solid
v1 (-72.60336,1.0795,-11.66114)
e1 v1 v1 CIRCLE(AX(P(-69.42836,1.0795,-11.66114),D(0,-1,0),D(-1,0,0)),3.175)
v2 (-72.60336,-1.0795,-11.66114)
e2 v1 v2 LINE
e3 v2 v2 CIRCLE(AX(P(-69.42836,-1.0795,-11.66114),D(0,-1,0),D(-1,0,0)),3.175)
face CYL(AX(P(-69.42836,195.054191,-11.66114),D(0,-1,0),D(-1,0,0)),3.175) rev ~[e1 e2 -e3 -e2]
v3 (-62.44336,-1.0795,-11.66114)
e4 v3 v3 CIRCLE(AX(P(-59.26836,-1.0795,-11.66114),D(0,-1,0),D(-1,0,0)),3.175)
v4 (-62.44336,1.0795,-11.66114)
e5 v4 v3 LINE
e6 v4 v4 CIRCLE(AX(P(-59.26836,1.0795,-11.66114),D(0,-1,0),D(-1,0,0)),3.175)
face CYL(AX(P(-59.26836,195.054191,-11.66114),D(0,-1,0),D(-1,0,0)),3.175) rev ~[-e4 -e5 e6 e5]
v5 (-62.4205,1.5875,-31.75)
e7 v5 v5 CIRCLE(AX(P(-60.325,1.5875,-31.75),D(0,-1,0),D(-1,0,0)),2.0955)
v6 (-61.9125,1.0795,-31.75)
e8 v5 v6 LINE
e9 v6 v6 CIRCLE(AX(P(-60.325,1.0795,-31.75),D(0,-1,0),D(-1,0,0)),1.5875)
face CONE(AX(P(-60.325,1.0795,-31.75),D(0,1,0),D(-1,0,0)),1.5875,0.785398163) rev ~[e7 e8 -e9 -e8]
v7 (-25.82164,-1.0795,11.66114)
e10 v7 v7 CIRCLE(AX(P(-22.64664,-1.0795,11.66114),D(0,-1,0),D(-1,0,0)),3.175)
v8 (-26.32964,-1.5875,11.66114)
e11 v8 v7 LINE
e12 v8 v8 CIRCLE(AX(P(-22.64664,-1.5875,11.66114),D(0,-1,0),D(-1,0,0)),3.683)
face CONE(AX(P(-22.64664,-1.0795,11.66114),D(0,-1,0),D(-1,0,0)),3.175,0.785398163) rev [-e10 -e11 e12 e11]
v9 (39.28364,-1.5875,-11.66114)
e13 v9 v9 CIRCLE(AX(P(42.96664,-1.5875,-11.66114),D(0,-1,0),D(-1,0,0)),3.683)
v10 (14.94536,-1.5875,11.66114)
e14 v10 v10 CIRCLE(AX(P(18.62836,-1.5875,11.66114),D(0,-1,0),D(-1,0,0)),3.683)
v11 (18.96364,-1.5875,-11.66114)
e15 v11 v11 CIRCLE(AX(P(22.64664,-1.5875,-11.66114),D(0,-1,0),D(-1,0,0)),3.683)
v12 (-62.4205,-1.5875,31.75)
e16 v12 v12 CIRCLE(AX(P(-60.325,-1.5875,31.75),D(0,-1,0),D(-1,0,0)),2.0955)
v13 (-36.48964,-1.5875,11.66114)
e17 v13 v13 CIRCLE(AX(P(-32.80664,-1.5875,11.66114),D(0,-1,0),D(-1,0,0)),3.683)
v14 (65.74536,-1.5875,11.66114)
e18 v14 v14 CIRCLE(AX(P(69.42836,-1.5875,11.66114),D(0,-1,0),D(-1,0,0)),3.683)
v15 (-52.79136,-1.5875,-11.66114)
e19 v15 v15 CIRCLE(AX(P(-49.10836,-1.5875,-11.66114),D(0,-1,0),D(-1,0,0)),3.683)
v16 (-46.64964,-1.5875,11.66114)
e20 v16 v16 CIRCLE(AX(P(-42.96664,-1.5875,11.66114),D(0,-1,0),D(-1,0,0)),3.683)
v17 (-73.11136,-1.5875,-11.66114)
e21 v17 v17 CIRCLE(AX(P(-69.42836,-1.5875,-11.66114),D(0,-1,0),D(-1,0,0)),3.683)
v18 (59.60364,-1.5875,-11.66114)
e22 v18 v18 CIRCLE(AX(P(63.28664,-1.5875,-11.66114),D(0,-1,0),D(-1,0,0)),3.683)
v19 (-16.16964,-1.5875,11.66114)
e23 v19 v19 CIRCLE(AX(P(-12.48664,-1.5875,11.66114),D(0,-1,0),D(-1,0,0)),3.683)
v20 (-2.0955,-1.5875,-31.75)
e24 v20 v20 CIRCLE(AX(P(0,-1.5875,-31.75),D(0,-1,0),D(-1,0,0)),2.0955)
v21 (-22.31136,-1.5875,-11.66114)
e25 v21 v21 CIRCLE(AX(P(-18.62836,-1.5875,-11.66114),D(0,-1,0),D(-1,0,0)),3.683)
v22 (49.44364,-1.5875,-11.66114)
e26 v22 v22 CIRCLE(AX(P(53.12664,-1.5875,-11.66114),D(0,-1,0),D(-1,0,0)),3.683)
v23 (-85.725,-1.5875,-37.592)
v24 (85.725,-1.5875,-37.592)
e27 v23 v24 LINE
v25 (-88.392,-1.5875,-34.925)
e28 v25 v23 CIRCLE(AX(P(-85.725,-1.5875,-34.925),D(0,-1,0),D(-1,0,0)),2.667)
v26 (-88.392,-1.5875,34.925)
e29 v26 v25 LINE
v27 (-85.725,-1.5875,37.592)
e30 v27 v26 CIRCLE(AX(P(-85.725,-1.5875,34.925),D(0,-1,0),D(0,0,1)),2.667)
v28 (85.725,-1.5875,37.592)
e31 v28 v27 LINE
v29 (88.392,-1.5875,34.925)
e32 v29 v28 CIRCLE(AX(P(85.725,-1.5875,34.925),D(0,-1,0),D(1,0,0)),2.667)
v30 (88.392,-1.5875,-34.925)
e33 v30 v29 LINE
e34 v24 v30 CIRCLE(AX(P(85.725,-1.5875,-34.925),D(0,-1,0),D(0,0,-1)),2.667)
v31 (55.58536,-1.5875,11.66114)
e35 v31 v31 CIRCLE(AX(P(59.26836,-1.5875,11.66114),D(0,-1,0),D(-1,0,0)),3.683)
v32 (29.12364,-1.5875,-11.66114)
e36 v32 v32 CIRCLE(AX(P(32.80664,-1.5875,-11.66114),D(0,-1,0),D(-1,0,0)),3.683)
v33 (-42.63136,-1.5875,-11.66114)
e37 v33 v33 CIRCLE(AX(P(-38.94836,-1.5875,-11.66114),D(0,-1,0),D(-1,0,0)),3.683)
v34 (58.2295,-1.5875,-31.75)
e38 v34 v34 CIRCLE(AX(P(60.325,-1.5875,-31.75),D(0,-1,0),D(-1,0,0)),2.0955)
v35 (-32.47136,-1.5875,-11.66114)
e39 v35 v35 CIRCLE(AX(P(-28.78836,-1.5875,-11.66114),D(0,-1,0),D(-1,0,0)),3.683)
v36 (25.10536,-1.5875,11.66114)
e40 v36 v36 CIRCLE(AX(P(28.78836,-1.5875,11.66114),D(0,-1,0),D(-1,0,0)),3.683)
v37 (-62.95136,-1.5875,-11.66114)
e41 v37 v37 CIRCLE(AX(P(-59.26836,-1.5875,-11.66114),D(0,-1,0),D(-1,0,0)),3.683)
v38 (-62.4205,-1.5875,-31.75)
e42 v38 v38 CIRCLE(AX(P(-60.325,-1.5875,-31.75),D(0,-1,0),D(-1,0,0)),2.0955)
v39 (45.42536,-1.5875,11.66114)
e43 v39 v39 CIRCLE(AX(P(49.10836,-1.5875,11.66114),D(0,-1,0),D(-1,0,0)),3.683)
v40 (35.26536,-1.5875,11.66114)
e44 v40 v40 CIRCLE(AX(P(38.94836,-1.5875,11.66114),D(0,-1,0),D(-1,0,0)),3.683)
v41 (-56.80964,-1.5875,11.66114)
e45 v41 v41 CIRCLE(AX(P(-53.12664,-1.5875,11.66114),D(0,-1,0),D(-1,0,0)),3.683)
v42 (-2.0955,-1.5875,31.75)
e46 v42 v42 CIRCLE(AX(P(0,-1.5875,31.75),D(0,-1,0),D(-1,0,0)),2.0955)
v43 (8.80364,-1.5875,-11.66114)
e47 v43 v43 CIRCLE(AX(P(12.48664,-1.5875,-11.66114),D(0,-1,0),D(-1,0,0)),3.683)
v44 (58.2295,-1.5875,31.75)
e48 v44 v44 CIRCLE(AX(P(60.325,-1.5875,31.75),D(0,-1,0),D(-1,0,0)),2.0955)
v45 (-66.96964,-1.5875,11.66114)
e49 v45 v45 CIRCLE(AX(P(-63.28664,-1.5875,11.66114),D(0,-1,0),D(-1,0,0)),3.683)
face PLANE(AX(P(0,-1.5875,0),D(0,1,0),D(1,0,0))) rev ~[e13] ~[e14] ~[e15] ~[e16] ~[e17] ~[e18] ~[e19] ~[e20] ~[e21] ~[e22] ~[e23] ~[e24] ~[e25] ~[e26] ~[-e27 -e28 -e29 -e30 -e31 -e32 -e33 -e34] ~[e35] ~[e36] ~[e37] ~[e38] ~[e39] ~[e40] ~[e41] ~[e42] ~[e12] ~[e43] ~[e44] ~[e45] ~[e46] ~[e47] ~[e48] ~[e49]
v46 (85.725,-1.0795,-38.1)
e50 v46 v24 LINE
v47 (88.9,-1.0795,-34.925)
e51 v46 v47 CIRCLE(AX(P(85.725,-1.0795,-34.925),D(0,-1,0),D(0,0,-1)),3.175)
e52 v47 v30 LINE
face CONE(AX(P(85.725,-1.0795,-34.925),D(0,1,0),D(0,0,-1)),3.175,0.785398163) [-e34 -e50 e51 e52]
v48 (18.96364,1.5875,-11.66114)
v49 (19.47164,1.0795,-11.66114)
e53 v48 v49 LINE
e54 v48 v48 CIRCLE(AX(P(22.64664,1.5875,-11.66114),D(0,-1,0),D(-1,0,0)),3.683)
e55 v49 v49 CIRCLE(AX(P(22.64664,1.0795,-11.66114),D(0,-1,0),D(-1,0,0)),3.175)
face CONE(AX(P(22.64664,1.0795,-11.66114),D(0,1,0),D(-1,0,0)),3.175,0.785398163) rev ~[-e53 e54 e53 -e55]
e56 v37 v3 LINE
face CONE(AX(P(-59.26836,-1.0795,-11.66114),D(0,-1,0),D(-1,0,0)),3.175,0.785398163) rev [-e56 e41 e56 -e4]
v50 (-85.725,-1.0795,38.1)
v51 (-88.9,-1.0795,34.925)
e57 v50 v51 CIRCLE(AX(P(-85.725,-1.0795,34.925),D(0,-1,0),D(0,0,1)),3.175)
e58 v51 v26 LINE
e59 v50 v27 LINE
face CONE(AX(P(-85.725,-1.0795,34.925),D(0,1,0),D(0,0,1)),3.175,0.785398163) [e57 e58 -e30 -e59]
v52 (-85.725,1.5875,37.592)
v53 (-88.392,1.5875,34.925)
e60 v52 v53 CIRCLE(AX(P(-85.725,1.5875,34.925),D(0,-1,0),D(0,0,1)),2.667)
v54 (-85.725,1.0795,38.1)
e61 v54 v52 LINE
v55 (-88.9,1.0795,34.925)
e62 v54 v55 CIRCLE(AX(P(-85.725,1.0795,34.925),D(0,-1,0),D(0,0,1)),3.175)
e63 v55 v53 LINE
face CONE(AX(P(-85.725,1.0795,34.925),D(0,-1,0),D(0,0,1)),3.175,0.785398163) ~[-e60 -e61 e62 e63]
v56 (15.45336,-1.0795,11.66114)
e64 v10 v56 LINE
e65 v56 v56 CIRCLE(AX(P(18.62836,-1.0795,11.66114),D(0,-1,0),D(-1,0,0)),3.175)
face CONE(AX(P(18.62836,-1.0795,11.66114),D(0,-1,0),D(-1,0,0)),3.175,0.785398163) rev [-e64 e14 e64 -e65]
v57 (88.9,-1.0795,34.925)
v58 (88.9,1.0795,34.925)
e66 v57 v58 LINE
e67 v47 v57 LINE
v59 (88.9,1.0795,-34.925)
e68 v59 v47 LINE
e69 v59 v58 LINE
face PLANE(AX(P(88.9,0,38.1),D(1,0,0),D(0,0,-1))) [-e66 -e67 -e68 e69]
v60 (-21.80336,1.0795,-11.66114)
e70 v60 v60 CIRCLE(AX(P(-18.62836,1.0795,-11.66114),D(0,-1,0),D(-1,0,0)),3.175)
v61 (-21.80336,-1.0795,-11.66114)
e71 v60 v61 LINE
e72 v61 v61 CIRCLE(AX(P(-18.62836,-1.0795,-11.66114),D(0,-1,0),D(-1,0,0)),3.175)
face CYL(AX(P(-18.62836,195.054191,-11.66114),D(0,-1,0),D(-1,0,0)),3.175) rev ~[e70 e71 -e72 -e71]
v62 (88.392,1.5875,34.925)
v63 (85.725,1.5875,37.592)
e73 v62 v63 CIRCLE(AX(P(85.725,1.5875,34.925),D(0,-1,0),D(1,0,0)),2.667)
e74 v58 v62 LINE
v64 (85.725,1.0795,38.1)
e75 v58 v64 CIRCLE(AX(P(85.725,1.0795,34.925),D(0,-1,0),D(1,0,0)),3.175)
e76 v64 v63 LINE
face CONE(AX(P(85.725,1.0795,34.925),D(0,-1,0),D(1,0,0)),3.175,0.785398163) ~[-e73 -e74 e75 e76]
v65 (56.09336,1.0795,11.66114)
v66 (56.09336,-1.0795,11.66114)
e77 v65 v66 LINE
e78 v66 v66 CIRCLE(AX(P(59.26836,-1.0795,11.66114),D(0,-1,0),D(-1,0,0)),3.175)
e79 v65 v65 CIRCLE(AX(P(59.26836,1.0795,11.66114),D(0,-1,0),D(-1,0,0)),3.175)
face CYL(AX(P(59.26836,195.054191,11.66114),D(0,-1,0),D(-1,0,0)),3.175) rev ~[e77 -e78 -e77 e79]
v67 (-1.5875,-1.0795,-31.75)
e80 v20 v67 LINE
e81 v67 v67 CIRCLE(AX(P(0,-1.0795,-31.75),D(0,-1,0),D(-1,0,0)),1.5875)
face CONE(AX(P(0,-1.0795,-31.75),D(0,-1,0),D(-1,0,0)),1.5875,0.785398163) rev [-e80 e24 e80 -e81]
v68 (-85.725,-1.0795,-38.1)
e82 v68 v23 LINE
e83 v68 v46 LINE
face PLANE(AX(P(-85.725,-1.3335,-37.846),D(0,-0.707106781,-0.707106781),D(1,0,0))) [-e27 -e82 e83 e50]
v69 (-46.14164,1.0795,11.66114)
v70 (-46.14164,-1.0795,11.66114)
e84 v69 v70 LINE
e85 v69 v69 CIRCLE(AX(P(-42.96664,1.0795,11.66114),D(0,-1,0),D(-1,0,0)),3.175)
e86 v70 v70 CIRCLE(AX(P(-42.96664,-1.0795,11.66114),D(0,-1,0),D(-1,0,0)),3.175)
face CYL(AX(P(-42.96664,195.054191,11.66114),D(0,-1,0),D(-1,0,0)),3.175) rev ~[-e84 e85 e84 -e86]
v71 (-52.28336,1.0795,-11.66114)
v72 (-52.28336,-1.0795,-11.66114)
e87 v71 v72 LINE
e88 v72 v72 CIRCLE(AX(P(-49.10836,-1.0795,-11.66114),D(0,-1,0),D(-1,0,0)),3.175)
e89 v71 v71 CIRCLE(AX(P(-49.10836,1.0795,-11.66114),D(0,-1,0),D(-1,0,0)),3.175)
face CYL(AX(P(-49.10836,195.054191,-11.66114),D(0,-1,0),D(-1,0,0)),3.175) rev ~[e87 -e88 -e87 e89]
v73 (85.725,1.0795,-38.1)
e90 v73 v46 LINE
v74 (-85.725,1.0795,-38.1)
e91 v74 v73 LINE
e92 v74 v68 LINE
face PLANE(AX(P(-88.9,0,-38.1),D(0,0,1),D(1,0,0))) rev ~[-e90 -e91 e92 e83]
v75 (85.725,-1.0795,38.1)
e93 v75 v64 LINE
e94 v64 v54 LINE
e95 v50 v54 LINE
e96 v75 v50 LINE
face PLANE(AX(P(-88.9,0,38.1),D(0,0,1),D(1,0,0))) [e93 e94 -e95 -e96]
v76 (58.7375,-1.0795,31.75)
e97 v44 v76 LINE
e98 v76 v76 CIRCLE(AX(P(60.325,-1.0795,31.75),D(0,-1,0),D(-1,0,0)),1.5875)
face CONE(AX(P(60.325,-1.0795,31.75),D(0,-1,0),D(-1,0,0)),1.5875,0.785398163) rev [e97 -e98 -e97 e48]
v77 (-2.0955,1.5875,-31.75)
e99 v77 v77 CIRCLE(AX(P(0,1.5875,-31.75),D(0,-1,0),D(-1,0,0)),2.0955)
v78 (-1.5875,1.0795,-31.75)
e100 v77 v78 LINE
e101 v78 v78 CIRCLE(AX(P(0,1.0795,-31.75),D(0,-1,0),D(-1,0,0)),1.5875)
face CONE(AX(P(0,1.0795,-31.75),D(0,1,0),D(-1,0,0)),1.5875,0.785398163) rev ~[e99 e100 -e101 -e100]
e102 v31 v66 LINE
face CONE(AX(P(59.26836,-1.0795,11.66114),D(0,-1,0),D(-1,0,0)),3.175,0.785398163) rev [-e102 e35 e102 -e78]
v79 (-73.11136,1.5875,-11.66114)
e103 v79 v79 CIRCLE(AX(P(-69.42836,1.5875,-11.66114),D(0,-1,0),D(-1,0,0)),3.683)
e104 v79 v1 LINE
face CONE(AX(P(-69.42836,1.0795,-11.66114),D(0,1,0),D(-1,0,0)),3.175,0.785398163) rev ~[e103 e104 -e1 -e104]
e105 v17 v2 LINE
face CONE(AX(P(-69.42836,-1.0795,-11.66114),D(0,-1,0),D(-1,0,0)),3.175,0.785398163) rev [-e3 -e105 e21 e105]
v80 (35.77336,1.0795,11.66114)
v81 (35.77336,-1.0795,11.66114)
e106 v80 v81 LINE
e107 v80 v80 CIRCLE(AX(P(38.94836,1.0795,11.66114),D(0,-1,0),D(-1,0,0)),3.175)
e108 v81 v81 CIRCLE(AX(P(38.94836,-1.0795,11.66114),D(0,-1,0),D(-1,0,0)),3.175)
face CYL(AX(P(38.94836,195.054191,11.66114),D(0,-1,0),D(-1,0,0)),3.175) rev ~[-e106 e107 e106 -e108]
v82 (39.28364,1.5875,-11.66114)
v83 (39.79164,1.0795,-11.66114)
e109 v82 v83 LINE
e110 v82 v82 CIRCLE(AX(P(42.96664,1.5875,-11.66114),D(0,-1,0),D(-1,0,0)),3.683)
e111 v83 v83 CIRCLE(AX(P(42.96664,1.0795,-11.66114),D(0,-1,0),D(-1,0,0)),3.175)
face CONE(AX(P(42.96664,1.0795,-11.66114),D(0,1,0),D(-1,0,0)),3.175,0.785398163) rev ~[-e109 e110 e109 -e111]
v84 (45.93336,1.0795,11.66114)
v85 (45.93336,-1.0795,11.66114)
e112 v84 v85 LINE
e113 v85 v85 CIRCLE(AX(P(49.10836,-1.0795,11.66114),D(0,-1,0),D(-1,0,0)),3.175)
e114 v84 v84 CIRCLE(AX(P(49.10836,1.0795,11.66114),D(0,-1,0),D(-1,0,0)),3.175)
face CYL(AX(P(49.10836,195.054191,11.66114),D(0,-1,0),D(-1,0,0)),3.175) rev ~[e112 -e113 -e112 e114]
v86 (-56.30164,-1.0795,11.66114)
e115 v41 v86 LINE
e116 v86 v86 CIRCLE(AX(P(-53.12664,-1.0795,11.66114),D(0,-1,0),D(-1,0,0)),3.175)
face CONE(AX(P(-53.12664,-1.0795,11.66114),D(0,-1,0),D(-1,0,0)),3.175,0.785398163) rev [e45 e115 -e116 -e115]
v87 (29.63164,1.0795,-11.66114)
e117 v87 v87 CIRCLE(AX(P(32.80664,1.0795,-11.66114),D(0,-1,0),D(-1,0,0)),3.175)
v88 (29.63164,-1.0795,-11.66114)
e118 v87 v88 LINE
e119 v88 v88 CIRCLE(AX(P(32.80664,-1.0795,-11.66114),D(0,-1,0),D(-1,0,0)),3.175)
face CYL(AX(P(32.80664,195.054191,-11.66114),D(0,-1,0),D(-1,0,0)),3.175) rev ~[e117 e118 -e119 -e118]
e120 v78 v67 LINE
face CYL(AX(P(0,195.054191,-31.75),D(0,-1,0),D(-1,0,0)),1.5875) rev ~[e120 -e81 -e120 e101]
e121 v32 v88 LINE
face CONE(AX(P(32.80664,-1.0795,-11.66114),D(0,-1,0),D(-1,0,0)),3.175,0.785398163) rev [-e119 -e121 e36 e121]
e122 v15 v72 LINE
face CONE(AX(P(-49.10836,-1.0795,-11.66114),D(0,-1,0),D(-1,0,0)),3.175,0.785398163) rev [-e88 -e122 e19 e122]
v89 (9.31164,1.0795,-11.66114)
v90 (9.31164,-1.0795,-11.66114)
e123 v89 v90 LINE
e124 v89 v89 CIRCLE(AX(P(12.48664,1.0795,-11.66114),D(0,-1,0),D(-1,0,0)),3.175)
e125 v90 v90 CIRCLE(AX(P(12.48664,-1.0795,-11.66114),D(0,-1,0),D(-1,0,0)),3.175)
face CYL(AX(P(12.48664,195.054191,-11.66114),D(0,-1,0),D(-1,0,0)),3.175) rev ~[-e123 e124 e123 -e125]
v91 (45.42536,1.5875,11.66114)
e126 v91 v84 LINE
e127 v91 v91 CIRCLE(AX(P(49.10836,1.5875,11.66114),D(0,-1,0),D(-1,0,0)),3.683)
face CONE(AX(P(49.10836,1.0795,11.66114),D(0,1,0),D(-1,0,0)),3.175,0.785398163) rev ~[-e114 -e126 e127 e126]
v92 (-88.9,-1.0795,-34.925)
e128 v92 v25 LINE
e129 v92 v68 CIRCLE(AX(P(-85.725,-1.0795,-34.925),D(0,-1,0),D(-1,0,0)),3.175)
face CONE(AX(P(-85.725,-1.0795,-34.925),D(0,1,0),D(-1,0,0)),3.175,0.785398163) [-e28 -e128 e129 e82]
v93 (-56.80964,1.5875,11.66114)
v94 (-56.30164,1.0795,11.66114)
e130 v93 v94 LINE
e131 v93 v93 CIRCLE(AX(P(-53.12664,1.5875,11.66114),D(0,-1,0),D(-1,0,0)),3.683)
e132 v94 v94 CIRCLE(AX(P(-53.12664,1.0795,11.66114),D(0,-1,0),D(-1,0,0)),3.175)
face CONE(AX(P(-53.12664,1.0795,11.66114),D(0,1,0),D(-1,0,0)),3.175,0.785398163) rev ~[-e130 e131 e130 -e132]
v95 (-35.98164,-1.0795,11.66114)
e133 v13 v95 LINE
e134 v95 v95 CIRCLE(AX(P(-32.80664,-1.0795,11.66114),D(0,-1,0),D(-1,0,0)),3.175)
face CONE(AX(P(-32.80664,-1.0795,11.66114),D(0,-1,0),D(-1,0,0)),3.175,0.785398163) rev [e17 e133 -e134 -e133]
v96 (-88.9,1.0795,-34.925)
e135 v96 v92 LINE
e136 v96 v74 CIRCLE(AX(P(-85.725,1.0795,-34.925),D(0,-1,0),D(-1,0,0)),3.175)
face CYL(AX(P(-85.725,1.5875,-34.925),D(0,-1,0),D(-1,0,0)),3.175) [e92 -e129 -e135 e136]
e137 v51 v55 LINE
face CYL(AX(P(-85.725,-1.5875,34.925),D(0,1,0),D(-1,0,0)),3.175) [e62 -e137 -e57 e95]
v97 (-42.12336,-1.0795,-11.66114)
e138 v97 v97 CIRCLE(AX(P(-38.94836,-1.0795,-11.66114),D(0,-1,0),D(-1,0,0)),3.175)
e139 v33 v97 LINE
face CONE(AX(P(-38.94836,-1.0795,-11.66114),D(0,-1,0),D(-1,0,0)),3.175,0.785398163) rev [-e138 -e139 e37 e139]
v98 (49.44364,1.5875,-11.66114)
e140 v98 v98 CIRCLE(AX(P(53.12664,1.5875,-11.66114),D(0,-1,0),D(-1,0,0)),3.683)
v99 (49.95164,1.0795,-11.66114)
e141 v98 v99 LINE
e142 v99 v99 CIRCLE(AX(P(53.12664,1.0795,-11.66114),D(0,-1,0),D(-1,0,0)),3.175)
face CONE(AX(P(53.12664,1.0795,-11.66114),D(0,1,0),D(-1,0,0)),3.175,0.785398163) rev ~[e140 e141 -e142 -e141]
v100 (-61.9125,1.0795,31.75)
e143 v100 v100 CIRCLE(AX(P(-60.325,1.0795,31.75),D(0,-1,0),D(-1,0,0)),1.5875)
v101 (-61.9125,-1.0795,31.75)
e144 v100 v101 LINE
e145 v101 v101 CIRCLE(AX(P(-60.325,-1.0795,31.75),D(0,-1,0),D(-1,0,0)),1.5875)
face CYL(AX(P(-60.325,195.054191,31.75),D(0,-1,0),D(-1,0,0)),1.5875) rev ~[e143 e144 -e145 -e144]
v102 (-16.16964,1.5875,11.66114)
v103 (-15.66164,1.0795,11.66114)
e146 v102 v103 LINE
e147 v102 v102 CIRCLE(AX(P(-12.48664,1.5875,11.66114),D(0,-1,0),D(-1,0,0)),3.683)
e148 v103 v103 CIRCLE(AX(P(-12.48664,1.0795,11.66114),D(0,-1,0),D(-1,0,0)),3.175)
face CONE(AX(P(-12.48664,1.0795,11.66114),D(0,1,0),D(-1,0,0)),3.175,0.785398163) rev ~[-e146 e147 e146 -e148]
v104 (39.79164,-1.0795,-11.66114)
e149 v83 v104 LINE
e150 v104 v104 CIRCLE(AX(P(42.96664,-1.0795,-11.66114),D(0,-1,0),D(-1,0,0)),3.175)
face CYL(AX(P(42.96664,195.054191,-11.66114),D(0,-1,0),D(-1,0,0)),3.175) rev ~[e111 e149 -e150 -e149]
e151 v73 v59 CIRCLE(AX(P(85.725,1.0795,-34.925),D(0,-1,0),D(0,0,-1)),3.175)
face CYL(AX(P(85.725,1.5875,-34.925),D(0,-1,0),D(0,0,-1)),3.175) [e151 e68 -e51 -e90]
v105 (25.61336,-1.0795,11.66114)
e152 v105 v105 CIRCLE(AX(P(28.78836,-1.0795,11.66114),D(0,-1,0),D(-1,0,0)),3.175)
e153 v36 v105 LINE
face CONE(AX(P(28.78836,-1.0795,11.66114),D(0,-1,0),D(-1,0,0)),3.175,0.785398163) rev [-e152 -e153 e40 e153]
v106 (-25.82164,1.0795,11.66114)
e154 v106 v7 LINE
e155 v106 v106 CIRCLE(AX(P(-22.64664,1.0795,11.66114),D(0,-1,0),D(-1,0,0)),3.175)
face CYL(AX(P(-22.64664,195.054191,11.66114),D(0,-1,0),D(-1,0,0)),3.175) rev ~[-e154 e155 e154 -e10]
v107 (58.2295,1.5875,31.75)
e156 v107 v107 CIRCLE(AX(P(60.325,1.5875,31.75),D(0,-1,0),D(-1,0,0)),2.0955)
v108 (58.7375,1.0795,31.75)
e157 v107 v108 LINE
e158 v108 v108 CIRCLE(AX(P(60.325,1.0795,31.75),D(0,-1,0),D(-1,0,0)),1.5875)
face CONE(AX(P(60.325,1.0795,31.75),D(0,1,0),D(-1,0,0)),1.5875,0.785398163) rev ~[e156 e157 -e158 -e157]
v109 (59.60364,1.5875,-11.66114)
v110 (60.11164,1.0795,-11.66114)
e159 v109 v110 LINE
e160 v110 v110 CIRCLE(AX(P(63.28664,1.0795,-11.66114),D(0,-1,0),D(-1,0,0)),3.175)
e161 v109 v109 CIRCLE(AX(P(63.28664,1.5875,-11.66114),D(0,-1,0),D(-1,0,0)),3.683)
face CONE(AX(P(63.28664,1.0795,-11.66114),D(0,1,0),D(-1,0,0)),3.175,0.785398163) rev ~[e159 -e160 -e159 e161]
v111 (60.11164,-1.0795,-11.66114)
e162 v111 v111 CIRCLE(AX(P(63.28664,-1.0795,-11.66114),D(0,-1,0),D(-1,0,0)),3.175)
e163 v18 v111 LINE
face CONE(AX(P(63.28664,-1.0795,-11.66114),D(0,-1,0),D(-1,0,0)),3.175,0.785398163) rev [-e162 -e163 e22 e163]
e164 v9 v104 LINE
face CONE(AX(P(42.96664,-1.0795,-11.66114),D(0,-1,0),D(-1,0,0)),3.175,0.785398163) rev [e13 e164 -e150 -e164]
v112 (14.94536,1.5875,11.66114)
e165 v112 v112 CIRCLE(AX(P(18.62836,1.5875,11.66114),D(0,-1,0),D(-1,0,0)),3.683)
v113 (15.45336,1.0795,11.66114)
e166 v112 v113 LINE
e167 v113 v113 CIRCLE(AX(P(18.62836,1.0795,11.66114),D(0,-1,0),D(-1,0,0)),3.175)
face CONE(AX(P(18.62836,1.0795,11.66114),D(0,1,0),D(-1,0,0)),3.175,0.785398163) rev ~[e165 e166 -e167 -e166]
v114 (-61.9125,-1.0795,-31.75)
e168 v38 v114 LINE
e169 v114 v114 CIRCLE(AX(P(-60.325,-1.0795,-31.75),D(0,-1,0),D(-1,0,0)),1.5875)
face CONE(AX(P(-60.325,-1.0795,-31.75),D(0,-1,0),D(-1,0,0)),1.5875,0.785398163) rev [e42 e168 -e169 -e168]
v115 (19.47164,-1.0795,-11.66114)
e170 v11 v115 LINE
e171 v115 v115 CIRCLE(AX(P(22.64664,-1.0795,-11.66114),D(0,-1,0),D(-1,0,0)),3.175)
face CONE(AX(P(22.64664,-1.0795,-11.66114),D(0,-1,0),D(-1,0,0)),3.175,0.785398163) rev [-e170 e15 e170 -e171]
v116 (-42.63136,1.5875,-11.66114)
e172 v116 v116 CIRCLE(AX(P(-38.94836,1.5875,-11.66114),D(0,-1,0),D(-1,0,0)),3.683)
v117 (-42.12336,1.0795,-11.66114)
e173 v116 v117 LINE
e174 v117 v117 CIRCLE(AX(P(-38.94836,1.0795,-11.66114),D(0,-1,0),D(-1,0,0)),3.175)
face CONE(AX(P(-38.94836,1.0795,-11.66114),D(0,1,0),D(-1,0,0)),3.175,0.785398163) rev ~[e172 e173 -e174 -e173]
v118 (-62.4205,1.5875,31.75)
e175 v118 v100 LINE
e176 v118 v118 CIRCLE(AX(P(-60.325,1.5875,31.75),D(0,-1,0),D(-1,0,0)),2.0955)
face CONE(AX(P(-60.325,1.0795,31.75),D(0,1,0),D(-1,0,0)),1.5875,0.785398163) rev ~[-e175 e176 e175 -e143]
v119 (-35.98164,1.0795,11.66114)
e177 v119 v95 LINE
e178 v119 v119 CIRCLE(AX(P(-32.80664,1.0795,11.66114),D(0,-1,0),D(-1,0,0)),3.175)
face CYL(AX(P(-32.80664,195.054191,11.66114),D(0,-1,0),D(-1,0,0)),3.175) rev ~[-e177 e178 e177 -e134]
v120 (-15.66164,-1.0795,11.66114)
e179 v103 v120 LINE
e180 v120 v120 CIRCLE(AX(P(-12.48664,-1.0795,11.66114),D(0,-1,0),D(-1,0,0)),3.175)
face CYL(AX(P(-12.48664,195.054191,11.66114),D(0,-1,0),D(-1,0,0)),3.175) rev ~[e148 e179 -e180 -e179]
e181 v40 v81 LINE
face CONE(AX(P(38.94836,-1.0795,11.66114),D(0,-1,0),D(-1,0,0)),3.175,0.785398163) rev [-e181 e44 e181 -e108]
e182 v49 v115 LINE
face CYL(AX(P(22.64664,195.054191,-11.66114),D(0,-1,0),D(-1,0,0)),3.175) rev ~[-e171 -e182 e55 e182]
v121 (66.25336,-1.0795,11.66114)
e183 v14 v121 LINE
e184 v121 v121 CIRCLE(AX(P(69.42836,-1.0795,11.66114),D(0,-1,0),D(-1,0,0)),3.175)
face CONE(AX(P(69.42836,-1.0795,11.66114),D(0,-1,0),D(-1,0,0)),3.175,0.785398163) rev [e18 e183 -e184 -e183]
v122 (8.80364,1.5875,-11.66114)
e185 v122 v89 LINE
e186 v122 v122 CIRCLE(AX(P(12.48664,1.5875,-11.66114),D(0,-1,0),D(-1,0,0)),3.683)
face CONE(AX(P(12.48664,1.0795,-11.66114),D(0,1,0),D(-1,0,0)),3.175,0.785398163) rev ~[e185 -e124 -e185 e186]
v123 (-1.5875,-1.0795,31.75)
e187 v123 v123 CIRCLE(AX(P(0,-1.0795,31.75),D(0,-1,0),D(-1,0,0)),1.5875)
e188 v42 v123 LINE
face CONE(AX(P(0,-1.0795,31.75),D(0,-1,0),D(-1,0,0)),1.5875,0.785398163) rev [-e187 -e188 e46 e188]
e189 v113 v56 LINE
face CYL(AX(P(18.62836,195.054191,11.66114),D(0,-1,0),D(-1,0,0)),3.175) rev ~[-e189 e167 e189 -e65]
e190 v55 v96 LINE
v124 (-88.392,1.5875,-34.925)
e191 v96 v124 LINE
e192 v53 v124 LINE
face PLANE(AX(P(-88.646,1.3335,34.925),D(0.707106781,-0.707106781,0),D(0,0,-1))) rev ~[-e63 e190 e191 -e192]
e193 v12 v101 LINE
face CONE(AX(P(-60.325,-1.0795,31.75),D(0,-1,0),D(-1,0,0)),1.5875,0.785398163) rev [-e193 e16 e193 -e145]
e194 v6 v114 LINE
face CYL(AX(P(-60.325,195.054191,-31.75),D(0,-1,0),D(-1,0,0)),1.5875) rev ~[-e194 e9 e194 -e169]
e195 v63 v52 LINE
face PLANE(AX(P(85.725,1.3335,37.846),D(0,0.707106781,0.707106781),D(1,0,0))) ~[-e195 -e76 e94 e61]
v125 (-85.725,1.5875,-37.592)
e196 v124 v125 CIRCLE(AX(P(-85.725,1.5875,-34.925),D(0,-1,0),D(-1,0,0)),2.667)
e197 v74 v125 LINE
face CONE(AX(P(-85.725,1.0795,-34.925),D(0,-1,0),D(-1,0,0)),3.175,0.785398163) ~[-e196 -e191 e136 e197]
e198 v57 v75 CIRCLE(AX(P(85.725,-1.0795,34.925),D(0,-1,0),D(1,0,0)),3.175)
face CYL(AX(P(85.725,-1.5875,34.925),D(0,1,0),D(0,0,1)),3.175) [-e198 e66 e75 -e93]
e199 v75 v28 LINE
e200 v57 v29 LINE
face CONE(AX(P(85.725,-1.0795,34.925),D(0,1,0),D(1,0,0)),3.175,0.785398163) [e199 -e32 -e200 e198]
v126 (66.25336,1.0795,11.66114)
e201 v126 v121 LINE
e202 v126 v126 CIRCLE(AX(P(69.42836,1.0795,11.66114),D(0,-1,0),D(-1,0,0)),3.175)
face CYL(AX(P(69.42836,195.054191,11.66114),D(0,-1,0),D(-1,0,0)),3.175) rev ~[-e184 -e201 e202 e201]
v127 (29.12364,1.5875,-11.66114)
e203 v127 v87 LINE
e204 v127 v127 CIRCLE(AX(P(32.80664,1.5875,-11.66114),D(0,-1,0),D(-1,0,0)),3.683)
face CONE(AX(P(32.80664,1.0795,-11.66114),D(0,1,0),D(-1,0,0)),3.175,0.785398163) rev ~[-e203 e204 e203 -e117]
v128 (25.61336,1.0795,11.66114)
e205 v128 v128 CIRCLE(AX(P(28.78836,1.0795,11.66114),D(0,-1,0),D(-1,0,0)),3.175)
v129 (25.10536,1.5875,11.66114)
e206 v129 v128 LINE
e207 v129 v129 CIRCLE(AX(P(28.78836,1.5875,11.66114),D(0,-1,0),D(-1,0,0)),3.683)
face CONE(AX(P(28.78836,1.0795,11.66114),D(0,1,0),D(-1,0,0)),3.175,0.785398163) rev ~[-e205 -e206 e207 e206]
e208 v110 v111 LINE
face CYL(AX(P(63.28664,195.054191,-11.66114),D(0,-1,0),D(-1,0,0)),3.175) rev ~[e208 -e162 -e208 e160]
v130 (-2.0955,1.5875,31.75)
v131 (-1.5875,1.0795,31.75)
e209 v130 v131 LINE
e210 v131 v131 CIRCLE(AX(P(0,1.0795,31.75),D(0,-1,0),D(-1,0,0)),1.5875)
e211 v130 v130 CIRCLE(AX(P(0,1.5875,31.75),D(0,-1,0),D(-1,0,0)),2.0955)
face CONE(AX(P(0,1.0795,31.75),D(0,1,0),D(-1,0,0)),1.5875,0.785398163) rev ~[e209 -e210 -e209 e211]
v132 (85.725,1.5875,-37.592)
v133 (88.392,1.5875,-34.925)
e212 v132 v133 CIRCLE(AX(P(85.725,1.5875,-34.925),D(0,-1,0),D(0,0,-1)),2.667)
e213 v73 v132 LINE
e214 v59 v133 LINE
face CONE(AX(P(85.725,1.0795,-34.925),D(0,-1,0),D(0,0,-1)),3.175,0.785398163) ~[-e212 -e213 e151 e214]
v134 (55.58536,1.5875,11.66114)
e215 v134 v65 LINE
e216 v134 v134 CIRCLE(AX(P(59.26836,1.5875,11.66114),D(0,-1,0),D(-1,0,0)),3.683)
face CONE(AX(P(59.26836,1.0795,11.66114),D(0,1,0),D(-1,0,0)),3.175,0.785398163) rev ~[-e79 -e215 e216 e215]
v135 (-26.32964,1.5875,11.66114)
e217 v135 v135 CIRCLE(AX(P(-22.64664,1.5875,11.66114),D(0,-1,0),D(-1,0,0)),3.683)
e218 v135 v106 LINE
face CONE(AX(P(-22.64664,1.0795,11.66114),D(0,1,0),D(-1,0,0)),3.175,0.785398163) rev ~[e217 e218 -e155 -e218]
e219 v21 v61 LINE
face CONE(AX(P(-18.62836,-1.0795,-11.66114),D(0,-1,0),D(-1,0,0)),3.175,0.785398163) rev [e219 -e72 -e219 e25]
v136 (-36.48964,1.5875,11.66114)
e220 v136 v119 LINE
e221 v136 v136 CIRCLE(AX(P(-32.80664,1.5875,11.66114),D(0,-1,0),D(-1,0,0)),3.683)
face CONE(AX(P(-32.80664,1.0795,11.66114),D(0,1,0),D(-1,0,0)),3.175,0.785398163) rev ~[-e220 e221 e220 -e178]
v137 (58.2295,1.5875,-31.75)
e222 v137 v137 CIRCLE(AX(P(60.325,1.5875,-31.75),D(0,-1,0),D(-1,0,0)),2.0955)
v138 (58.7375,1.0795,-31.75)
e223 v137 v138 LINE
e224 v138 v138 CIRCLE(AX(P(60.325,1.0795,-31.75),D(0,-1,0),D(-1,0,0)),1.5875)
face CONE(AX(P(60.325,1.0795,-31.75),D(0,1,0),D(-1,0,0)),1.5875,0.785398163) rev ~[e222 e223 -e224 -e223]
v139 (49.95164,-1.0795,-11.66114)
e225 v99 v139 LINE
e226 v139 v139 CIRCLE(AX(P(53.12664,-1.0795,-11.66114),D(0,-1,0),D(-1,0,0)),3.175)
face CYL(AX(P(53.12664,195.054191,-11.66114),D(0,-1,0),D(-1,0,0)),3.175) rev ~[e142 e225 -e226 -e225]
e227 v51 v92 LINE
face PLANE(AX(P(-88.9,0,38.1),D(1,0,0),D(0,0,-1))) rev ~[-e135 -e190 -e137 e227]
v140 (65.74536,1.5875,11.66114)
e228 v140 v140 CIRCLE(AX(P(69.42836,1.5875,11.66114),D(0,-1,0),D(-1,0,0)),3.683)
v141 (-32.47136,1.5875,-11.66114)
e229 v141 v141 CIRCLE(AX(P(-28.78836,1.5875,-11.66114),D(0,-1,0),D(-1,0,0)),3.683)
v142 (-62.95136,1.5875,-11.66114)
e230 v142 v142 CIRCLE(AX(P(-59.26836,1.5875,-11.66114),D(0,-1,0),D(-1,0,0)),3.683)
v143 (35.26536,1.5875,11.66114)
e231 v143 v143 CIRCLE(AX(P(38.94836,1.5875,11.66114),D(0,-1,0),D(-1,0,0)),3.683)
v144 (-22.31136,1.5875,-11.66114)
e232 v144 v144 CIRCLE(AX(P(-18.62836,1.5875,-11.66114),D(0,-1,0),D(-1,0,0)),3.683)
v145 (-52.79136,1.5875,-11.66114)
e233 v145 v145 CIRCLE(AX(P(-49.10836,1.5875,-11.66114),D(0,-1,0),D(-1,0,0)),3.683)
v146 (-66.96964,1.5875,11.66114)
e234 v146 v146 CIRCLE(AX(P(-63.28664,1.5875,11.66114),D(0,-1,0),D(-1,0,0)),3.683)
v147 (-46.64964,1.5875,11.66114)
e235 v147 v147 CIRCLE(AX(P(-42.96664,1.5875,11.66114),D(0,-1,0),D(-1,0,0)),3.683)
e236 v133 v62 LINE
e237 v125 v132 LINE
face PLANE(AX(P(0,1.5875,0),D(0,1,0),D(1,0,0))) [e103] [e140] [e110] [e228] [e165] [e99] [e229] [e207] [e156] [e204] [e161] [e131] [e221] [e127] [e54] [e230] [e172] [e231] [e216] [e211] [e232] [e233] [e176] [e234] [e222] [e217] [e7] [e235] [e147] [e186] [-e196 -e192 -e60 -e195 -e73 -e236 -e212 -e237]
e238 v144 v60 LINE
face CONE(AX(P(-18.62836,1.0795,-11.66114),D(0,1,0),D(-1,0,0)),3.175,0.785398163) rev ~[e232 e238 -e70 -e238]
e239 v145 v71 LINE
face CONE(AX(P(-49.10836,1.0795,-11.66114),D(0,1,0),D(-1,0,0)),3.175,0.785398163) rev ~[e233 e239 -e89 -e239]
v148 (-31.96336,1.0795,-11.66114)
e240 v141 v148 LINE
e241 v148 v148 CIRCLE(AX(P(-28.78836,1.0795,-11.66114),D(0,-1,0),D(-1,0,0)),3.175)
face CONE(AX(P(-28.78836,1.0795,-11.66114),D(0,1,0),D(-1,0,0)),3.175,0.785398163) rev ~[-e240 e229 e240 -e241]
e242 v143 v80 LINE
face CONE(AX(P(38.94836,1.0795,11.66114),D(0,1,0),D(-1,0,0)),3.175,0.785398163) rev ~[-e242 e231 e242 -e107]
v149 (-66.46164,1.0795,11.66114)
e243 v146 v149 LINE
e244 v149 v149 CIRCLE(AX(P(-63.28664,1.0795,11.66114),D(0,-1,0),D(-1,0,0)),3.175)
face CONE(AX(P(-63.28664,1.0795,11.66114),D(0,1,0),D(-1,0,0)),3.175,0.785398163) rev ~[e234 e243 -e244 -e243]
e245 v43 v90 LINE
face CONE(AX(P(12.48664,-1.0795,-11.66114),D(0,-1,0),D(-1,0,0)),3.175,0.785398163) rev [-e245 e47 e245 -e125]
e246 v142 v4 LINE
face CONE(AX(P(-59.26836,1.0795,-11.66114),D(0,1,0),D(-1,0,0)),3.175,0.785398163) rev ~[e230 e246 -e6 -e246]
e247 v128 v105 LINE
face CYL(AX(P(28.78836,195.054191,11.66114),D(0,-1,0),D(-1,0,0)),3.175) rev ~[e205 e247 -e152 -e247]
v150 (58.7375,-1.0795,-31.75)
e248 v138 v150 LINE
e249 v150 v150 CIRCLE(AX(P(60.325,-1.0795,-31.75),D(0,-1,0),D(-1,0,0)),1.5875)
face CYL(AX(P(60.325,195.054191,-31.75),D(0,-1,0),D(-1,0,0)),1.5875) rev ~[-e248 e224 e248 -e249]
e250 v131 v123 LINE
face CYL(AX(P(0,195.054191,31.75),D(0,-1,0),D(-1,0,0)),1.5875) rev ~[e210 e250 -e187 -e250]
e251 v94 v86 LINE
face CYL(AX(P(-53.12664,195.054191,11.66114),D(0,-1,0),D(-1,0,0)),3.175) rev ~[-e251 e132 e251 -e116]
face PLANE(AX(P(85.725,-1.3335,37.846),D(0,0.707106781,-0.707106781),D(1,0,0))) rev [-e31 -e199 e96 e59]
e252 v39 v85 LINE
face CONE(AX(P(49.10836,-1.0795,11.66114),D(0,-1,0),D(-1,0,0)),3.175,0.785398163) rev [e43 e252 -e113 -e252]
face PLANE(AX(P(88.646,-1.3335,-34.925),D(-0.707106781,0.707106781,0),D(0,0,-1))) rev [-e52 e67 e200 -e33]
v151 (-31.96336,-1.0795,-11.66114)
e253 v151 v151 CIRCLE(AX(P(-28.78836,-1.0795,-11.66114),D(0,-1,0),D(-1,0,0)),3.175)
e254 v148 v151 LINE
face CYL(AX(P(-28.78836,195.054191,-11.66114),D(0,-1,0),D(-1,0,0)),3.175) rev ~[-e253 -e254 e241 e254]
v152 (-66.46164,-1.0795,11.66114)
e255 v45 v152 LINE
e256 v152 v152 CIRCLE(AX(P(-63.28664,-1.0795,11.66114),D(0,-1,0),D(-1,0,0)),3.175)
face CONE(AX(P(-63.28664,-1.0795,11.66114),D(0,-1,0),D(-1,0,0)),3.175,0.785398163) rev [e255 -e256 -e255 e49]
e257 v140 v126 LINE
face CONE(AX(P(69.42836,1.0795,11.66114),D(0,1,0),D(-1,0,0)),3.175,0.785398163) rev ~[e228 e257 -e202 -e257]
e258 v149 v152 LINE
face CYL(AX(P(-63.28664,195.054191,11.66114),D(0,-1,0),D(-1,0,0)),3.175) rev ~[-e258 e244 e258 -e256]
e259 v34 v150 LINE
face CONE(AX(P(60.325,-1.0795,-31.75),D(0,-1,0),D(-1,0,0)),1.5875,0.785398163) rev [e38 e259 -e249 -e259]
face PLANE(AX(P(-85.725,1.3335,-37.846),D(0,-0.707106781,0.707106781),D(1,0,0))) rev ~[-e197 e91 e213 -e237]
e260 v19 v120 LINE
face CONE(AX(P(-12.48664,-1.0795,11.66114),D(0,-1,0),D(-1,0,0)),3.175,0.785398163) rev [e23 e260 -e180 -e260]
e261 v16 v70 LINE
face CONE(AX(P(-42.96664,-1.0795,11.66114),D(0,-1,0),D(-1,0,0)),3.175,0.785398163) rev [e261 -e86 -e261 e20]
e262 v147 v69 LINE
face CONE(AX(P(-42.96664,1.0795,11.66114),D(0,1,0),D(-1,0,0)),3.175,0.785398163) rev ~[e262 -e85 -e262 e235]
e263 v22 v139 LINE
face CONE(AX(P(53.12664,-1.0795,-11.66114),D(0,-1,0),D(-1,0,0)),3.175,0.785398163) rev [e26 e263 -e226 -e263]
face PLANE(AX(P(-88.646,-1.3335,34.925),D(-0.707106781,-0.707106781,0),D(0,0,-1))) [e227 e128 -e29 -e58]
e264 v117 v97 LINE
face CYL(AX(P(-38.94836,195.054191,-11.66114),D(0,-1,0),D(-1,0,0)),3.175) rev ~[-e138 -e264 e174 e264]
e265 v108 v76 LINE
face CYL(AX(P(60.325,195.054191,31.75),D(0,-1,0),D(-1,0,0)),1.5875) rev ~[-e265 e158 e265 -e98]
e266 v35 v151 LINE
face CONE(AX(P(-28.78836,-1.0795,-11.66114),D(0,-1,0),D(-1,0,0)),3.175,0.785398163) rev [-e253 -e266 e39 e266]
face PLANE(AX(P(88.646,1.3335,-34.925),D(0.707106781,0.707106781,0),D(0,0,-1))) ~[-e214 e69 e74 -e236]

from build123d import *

# Parameters (mm, degrees)
SKETCH1_W                    = 177.8
SKETCH1_H                    = 76.2
BOSS_EXTRUDE1_DEPTH          = 1.5875
F_1_8_0_125_DIAMETER_HOLE1_D = 3.175
F_1_4_0_25_DIAMETER_HOLE1_D  = 6.35
FILLET1_R                    = 3.175
CHAMFER1_SIZE                = 0.508


with BuildPart() as part:
    # Sketch1 → Boss-Extrude1 (new body, symmetric)
    with BuildSketch(Plane(origin=(0, 0, 0), x_dir=(1, 0, 0), z_dir=(0, 1, 0))):
        Rectangle(SKETCH1_W, SKETCH1_H)
    extrude(amount=BOSS_EXTRUDE1_DEPTH, both=True)

    # 1/8 (0.125) Diameter Hole1 (through all)
    with Locations(Plane(origin=(0, 1.5875, 0), x_dir=(1, 0, 0), z_dir=(0, 1, 0))):
        with Locations((-60.325, 31.75), (0, 31.75), (60.325, 31.75), (60.325, -31.75), (0, -31.75), (-60.325, -31.75)):
            Hole(F_1_8_0_125_DIAMETER_HOLE1_D / 2)

    # 1/4 (0.25) Diameter Hole1 (through all)
    with Locations(Plane(origin=(0, 1.5875, 0), x_dir=(1, 0, 0), z_dir=(0, 1, 0))):
        with Locations((-63.28664, -11.66114), (-53.12664, -11.66114), (-42.96664, -11.66114), (-32.80664, -11.66114), (-22.64664, -11.66114), (-12.48664, -11.66114), (18.62836, -11.66114), (28.78836, -11.66114), (38.94836, -11.66114), (49.10836, -11.66114), (59.26836, -11.66114), (69.42836, -11.66114), (-69.42836, 11.66114), (-59.26836, 11.66114), (-49.10836, 11.66114), (-38.94836, 11.66114), (-28.78836, 11.66114), (-18.62836, 11.66114), (12.48664, 11.66114), (22.64664, 11.66114), (32.80664, 11.66114), (42.96664, 11.66114), (53.12664, 11.66114), (63.28664, 11.66114)):
            Hole(F_1_4_0_25_DIAMETER_HOLE1_D / 2)

    # Fillet1
    fillet1_edges = [part.edges().sort_by_distance(p)[0] for p in [
        (-88.9, 0, 38.1),
        (88.9, 0, 38.1),
        (88.9, 0, -38.1),
        (-88.9, 0, -38.1),
    ]]
    fillet(fillet1_edges, radius=FILLET1_R)

    # Chamfer1
    chamfer1_edges = [part.edges().sort_by_distance(p)[0] for p in [
        (15.66164, 1.5875, -11.66114),
        (15.66164, -1.5875, -11.66114),
        (-15.45336, 1.5875, -11.66114),
        (-15.45336, -1.5875, -11.66114),
        (-25.61336, 1.5875, -11.66114),
        (-25.61336, -1.5875, -11.66114),
        (-35.77336, 1.5875, -11.66114),
        (-35.77336, -1.5875, -11.66114),
        (-45.93336, 1.5875, -11.66114),
        (-45.93336, -1.5875, -11.66114),
        (-56.09336, 1.5875, -11.66114),
        (-56.09336, -1.5875, -11.66114),
        (-66.25336, 1.5875, -11.66114),
        (-66.25336, -1.5875, -11.66114),
        (72.60336, 1.5875, 11.66114),
        (72.60336, -1.5875, 11.66114),
        (-58.7375, 1.5875, 31.75),
        (-58.7375, -1.5875, 31.75),
        (62.44336, 1.5875, 11.66114),
        (62.44336, -1.5875, 11.66114),
        (52.28336, 1.5875, 11.66114),
        (52.28336, -1.5875, 11.66114),
        (42.12336, 1.5875, 11.66114),
        (42.12336, -1.5875, 11.66114),
        (31.96336, 1.5875, 11.66114),
        (31.96336, -1.5875, 11.66114),
        (21.80336, 1.5875, 11.66114),
        (21.80336, -1.5875, 11.66114),
        (-9.31164, 1.5875, 11.66114),
        (-9.31164, -1.5875, 11.66114),
        (1.5875, 1.5875, 31.75),
        (1.5875, -1.5875, 31.75),
        (-19.47164, 1.5875, 11.66114),
        (-19.47164, -1.5875, 11.66114),
        (-29.63164, 1.5875, 11.66114),
        (-29.63164, -1.5875, 11.66114),
        (-39.79164, 1.5875, 11.66114),
        (-39.79164, -1.5875, 11.66114),
        (-49.95164, 1.5875, 11.66114),
        (-49.95164, -1.5875, 11.66114),
        (-60.11164, 1.5875, 11.66114),
        (-60.11164, -1.5875, 11.66114),
        (-88.9, -1.5875, 0),
        (-88.9, 1.5875, 0),
        (0, -1.5875, -38.1),
        (88.9, -1.5875, 0),
        (0, -1.5875, 38.1),
        (61.9125, 1.5875, 31.75),
        (-87.97006403, -1.5875, 37.17006403),
        (87.97006403, -1.5875, 37.17006403),
        (61.9125, -1.5875, 31.75),
        (87.97006403, -1.5875, -37.17006403),
        (-87.97006403, -1.5875, -37.17006403),
        (0, 1.5875, -38.1),
        (0, 1.5875, 38.1),
        (88.9, 1.5875, 0),
        (-87.97006403, 1.5875, 37.17006403),
        (87.97006403, 1.5875, 37.17006403),
        (87.97006403, 1.5875, -37.17006403),
        (-87.97006403, 1.5875, -37.17006403),
        (61.9125, 1.5875, -31.75),
        (61.9125, -1.5875, -31.75),
        (1.5875, 1.5875, -31.75),
        (1.5875, -1.5875, -31.75),
        (-58.7375, 1.5875, -31.75),
        (-58.7375, -1.5875, -31.75),
        (56.30164, 1.5875, -11.66114),
        (56.30164, -1.5875, -11.66114),
        (66.46164, 1.5875, -11.66114),
        (66.46164, -1.5875, -11.66114),
        (46.14164, 1.5875, -11.66114),
        (46.14164, -1.5875, -11.66114),
        (35.98164, 1.5875, -11.66114),
        (35.98164, -1.5875, -11.66114),
        (25.82164, 1.5875, -11.66114),
        (25.82164, -1.5875, -11.66114),
    ]]
    chamfer(chamfer1_edges, length=CHAMFER1_SIZE)


solid = part.part
